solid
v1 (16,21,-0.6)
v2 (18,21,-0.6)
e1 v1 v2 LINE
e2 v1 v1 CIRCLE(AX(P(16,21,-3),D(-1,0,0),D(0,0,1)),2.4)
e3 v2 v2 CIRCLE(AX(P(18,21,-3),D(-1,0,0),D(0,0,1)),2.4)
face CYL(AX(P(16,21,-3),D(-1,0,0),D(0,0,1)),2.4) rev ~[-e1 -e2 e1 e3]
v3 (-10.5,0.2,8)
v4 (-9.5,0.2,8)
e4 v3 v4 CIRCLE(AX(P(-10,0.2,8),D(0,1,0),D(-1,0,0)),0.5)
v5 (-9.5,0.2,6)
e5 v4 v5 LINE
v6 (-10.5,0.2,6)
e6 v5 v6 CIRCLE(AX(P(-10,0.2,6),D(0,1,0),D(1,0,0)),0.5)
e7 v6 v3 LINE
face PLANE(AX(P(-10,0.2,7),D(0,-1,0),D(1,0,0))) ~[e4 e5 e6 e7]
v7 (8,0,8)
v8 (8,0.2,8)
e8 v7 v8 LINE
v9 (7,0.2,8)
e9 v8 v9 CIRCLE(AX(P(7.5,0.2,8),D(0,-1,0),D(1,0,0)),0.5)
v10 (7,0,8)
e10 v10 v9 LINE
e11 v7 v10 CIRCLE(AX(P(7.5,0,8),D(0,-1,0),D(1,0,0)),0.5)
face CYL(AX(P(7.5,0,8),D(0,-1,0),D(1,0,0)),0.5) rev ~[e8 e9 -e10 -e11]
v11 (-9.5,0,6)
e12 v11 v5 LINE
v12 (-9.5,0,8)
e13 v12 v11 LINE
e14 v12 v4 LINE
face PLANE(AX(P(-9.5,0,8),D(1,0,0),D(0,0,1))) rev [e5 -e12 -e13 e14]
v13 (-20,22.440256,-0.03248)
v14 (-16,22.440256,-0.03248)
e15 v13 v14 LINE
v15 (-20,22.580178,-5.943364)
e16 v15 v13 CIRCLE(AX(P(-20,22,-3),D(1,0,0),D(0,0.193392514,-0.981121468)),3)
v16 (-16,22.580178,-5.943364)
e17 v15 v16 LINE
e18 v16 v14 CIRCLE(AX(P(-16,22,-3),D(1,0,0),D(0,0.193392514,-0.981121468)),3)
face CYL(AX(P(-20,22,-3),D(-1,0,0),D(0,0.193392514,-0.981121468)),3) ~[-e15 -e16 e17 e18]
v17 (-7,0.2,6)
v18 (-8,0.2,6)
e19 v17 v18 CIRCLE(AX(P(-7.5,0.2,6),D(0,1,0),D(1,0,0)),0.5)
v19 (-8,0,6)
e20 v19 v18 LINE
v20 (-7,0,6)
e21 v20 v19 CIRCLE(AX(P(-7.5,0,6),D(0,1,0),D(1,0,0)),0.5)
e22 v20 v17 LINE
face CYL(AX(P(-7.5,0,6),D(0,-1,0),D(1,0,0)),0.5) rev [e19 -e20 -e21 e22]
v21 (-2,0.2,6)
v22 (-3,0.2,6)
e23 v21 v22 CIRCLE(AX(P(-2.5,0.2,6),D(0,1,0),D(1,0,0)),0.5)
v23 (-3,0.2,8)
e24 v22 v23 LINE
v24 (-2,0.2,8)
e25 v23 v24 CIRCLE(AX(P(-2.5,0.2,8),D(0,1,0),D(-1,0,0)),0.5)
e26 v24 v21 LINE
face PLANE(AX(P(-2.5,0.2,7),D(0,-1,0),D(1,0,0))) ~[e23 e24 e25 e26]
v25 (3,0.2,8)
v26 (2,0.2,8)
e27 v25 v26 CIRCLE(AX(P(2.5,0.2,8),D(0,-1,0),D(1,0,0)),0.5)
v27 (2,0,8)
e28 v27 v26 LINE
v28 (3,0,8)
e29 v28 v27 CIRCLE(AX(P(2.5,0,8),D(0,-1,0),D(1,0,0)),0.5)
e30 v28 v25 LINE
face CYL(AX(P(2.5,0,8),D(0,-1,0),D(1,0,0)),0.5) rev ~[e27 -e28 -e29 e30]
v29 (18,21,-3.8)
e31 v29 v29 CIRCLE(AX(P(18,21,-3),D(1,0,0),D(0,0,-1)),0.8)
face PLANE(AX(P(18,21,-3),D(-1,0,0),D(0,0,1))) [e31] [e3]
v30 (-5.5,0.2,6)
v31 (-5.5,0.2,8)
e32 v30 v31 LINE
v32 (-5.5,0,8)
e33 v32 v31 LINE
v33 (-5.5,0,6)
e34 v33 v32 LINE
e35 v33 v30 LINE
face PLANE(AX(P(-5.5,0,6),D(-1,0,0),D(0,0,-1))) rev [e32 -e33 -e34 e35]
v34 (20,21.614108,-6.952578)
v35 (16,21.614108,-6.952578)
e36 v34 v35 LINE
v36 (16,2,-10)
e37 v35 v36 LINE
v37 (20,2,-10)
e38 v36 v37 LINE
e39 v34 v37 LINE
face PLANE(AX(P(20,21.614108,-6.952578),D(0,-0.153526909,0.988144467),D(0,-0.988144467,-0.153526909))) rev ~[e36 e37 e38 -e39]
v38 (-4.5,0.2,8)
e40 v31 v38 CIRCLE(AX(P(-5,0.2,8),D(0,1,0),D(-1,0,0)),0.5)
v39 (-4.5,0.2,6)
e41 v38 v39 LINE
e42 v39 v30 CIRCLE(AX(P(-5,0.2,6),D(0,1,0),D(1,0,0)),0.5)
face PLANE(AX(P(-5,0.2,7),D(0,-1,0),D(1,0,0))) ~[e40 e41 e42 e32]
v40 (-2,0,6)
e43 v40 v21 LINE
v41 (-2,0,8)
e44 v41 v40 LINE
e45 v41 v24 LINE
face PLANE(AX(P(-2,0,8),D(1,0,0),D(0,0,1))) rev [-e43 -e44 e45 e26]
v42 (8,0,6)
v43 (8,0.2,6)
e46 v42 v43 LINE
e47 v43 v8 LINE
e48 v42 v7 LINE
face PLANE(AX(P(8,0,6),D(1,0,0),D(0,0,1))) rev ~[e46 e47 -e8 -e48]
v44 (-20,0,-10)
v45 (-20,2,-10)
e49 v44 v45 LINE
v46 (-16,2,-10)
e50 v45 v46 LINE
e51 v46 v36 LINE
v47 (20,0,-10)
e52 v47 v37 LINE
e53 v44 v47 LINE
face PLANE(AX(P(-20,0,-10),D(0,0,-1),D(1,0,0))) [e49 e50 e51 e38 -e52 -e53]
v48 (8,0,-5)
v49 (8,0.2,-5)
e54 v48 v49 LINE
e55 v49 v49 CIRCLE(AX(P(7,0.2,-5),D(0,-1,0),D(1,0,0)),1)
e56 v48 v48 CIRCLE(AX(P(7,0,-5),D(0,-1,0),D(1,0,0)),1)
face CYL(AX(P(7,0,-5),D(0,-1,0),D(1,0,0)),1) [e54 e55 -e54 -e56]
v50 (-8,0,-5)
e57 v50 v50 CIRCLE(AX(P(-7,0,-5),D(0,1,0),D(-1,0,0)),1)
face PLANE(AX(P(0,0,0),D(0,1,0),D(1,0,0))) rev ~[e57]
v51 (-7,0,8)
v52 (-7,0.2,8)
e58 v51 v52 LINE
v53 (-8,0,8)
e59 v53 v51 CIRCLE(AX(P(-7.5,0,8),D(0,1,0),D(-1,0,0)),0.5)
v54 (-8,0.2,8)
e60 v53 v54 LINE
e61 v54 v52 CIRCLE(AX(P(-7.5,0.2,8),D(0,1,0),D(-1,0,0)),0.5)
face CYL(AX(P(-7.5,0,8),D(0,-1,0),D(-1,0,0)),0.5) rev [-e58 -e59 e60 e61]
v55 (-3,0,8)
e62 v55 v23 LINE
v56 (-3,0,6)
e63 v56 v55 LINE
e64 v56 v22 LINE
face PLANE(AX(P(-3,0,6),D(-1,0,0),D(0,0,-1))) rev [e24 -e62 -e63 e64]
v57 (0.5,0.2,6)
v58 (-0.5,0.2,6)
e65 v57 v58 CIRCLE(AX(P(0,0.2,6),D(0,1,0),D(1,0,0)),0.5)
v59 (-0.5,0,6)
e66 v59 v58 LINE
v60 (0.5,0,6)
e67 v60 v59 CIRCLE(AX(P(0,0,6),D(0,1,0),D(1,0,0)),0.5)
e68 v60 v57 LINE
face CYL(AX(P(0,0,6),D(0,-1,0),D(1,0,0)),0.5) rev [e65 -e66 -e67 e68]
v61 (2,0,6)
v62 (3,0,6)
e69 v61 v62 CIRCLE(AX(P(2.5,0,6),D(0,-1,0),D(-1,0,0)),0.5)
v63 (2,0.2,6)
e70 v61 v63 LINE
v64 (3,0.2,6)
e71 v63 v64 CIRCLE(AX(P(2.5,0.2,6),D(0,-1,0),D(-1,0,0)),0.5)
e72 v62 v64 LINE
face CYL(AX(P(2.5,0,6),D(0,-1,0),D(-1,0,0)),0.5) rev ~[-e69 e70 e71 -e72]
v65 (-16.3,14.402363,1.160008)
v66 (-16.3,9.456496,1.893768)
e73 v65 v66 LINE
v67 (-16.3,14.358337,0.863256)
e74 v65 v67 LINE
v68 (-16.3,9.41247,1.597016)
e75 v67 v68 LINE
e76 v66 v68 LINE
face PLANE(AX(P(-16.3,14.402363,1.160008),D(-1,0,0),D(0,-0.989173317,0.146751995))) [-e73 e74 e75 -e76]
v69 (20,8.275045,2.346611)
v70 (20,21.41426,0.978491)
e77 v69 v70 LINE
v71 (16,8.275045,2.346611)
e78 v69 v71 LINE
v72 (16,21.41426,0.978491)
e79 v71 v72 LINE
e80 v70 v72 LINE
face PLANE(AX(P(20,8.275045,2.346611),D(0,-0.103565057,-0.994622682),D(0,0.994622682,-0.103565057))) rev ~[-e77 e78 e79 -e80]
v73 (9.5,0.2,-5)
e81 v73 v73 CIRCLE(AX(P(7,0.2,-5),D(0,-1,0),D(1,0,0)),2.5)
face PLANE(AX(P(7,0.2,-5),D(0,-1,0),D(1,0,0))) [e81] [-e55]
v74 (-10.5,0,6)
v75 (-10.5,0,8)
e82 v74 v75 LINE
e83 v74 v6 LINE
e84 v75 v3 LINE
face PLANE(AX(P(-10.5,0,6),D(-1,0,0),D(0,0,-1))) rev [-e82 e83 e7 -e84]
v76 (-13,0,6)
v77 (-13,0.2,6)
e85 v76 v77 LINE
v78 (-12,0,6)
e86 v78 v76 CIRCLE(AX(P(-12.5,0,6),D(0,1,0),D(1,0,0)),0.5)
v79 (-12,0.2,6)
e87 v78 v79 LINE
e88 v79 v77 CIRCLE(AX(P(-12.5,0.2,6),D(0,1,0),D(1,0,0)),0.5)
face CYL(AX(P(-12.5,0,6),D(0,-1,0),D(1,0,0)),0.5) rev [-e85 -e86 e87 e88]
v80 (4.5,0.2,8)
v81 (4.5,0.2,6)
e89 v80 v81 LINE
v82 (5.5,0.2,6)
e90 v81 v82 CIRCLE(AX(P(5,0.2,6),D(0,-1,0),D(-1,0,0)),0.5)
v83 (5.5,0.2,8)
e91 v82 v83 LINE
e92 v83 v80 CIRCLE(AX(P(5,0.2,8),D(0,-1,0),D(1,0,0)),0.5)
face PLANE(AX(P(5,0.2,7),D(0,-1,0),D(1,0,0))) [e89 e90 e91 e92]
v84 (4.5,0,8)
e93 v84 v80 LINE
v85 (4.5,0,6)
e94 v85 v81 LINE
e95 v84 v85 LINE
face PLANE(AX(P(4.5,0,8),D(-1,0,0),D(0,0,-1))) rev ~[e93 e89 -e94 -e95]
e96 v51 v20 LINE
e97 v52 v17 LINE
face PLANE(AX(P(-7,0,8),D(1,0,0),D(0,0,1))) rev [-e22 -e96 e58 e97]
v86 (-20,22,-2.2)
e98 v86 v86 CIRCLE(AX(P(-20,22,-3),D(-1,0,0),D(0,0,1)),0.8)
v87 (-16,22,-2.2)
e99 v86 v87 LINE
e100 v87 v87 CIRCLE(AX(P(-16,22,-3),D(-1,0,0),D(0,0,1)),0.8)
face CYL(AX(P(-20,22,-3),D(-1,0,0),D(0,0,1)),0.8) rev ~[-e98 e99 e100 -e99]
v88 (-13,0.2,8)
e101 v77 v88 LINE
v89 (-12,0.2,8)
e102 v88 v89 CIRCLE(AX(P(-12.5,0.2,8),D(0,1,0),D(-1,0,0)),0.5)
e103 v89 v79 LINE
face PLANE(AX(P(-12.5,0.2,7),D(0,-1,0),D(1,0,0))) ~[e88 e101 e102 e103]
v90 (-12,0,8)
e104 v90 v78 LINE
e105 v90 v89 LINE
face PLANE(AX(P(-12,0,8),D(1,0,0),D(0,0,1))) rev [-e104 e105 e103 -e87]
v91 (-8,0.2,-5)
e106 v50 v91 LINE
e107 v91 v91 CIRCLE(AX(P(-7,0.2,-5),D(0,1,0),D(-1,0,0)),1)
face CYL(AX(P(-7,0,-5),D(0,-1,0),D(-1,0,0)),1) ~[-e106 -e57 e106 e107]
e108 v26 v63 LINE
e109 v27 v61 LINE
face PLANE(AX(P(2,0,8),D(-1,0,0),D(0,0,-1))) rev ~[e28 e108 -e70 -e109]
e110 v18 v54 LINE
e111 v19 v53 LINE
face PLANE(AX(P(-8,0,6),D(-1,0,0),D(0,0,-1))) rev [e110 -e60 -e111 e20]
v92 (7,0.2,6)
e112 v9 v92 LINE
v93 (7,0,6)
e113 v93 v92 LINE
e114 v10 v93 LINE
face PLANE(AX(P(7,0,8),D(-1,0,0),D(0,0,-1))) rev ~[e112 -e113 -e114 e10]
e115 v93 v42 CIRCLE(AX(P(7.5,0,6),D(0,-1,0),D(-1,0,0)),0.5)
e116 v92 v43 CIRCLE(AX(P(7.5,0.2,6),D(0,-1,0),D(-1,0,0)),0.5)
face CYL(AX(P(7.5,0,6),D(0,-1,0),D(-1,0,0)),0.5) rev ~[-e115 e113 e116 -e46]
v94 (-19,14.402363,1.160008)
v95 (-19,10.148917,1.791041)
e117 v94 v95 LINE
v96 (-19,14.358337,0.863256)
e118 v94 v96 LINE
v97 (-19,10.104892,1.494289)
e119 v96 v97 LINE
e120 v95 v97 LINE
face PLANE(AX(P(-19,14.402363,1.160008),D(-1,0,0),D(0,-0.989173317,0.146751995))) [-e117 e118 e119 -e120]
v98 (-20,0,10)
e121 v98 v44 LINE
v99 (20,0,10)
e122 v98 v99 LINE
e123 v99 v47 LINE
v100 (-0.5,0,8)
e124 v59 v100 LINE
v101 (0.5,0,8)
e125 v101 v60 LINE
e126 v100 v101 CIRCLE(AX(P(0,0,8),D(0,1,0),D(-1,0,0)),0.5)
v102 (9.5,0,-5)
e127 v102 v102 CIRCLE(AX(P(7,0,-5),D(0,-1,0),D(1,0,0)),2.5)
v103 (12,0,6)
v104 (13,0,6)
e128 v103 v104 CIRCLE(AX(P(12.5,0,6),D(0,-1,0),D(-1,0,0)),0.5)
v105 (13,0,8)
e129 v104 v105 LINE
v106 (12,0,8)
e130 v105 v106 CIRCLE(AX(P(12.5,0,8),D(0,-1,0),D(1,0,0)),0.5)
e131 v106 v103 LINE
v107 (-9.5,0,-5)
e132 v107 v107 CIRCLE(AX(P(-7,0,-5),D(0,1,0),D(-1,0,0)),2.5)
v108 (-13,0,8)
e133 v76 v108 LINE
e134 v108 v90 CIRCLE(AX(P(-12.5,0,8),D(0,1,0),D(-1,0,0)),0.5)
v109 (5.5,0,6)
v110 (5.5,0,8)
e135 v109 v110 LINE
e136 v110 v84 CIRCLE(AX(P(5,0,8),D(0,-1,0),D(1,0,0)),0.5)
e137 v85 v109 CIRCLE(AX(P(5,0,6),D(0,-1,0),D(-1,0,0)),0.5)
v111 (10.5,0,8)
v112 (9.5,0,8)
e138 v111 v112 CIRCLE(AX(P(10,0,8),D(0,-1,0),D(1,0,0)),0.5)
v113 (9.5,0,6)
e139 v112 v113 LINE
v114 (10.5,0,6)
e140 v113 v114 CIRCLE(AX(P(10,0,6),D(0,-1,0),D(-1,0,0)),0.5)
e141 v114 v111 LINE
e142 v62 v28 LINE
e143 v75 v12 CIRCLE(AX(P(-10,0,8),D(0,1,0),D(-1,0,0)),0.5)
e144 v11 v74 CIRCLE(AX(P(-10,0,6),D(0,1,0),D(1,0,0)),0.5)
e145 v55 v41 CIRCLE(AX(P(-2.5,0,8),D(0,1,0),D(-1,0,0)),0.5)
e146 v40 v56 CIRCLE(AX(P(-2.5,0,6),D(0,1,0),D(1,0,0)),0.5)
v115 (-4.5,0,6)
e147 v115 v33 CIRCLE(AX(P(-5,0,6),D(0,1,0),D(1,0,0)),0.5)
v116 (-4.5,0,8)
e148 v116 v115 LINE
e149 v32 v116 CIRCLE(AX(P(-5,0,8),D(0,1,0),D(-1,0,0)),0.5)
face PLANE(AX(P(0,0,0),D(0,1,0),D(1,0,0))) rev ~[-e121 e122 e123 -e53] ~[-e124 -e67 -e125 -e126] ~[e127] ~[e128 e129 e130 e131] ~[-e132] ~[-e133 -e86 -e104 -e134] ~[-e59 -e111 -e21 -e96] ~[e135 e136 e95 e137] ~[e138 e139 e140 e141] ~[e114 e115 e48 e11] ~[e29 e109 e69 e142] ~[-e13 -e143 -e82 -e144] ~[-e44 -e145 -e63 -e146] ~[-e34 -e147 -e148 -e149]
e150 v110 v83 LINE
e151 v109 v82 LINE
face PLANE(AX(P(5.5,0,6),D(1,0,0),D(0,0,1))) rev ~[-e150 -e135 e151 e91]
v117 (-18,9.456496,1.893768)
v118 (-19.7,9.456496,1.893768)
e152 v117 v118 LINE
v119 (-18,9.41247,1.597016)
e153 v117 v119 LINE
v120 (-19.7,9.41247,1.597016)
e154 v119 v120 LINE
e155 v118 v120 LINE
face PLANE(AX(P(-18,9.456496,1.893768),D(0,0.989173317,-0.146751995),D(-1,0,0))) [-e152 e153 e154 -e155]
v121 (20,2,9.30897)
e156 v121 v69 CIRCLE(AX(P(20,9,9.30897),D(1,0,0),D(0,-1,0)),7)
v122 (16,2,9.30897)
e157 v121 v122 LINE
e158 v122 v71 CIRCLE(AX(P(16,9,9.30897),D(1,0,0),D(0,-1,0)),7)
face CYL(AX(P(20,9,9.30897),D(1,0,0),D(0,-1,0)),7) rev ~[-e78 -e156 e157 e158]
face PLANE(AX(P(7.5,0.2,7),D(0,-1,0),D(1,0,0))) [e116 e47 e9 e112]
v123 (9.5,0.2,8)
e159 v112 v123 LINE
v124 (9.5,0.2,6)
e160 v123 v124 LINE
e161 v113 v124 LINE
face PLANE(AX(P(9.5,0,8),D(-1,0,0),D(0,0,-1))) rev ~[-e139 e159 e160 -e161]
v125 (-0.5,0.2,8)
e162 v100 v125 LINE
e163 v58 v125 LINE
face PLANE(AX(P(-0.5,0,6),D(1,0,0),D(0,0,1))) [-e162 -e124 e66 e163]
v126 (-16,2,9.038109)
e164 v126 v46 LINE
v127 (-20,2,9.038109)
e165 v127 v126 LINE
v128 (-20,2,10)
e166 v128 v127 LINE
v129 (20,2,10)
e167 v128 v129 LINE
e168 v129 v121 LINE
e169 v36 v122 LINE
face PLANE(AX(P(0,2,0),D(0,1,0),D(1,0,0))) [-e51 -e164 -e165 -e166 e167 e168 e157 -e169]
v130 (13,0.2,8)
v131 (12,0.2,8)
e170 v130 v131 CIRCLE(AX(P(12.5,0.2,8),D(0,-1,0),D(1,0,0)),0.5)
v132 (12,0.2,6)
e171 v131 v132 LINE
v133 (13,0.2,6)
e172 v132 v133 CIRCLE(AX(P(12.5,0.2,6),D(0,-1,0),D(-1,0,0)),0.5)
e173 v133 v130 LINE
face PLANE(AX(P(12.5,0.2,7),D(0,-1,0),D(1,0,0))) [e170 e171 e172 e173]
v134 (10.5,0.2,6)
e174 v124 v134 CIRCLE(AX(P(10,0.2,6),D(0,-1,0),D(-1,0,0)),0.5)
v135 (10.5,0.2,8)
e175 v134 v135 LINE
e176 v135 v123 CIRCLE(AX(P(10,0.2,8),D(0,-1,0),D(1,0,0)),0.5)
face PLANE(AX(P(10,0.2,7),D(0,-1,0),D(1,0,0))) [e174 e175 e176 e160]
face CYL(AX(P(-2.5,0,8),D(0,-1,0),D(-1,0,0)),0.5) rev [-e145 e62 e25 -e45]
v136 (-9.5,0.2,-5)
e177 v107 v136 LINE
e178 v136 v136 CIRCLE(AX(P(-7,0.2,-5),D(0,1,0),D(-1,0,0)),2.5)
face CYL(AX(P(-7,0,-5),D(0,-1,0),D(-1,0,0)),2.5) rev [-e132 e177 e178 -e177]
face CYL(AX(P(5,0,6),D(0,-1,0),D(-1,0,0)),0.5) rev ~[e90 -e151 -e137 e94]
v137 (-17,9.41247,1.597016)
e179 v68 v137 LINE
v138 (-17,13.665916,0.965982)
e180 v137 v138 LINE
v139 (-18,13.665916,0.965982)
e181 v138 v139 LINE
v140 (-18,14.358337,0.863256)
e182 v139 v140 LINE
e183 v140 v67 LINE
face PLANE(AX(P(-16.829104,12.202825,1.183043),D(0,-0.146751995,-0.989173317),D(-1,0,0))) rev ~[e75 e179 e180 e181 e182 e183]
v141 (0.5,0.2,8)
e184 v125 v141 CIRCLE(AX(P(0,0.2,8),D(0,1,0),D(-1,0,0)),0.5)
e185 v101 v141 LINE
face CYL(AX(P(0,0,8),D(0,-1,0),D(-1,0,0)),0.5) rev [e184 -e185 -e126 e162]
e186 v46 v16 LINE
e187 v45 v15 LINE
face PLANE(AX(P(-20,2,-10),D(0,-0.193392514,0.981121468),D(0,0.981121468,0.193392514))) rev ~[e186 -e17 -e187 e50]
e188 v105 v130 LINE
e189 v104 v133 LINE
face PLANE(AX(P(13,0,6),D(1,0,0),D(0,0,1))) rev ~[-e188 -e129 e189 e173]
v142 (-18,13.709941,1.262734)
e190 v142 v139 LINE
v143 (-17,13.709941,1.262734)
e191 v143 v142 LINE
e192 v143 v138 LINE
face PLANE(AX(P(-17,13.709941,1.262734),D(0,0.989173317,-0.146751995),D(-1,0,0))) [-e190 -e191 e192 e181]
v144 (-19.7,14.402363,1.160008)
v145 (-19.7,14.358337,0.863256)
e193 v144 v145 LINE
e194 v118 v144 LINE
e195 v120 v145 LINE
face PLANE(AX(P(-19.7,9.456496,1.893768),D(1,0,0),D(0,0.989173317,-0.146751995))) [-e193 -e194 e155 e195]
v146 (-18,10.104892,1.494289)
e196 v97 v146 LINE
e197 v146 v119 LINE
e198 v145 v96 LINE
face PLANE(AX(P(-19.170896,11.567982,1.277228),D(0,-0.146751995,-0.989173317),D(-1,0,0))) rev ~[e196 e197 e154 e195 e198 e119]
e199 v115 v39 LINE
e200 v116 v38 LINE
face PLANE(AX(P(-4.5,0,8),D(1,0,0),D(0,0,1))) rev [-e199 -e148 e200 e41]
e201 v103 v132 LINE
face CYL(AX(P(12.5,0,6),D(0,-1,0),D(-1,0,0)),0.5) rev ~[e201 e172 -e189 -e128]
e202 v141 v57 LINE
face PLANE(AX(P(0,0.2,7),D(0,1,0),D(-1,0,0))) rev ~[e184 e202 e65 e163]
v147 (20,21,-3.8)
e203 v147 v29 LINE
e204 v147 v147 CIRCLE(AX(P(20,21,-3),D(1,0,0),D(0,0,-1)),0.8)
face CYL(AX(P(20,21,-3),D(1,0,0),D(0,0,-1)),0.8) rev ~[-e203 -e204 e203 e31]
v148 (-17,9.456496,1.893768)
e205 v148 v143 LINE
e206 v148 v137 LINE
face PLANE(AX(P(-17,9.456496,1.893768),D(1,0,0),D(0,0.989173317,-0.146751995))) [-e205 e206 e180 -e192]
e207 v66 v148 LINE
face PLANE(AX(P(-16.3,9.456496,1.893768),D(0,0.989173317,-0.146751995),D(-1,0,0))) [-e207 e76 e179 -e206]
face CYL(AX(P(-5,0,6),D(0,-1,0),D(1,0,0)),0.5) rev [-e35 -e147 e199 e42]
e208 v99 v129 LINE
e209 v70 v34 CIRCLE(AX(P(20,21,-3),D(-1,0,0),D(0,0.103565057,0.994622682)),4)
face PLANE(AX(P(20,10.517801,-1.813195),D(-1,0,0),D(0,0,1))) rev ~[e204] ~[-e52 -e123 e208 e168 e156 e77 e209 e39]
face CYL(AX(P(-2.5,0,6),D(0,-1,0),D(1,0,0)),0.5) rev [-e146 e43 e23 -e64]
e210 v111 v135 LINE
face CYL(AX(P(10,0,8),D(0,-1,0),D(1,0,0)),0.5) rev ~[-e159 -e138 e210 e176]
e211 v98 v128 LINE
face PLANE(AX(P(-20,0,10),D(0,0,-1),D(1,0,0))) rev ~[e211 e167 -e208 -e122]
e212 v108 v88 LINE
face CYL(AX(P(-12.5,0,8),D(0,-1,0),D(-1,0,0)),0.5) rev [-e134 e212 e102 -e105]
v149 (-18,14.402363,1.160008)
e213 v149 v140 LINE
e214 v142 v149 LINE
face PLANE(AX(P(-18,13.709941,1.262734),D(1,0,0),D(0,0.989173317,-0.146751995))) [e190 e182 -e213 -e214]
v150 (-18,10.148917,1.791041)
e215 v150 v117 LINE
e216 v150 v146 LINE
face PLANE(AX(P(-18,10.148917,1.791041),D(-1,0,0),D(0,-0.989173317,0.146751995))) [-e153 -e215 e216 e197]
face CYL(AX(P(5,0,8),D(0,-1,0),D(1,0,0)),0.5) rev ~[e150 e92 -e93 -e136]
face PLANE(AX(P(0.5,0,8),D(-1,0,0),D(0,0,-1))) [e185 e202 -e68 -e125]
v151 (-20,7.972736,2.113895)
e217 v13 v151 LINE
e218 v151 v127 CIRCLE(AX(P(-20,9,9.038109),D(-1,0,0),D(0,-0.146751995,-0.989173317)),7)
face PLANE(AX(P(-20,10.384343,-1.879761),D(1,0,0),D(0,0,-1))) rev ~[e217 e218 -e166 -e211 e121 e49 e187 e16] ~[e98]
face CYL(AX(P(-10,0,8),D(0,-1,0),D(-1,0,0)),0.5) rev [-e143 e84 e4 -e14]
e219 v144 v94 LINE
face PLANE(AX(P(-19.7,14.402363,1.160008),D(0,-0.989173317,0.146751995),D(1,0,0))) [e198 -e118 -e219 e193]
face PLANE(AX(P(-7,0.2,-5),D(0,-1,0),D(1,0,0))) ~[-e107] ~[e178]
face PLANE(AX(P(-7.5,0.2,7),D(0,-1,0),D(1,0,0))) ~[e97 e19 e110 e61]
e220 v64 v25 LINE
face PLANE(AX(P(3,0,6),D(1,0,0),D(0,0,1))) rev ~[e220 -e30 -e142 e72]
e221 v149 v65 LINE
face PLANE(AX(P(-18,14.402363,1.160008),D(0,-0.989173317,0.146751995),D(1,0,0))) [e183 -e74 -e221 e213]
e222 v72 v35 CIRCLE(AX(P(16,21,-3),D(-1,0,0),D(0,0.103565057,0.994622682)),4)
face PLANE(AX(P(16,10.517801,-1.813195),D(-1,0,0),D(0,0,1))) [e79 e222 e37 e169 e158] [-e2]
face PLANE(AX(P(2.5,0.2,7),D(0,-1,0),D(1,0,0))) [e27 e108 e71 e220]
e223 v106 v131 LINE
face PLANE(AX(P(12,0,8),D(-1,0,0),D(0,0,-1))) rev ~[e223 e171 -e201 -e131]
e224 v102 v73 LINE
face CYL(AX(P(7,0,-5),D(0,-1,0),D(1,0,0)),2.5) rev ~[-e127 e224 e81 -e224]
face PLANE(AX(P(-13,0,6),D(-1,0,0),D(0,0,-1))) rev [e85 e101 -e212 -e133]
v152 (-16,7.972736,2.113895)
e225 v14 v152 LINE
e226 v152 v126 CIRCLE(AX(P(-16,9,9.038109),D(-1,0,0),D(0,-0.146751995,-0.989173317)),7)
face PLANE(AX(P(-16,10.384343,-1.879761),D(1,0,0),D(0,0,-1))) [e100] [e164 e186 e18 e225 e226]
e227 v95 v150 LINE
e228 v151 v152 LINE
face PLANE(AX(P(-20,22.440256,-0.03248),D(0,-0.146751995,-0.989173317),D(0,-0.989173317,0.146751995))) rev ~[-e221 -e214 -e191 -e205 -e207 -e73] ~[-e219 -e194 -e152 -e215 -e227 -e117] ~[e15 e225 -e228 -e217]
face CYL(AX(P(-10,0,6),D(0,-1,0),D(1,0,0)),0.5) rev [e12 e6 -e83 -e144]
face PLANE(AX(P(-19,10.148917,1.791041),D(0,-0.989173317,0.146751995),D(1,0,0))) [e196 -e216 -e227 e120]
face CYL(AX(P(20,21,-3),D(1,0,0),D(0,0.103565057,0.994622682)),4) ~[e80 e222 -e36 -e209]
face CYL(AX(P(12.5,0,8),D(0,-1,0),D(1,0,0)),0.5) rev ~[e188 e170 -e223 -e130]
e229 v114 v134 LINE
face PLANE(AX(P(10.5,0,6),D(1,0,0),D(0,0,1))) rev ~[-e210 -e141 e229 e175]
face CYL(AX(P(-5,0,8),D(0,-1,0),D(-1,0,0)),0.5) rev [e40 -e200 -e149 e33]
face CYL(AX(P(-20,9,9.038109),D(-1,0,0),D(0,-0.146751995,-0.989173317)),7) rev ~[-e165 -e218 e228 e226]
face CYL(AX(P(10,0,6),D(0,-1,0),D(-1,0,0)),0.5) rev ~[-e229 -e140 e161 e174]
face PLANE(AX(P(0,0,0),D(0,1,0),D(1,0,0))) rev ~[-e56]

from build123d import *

# Parameters (mm, degrees)
CROQUIS1_W              = 40
CROQUIS1_H              = 20
SALIENTE_EXTRUIR1_DEPTH = 2
CROQUIS3_R              = 0.8
SALIENTE_EXTRUIR2_DEPTH = 4
CROQUIS4_R              = 2.5
CROQUIS4_R_2            = 1
CORTAR_EXTRUIR1_DEPTH   = 0.2
CROQUIS6_R              = 0.8
SALIENTE_EXTRUIR3_DEPTH = 4
CROQUIS10_R             = 2.4
CORTAR_EXTRUIR4_DEPTH   = 2
CORTAR_EXTRUIR5_DEPTH   = 0.3


with BuildPart() as part:
    # Croquis1 → Saliente-Extruir1 (new body)
    with BuildSketch(Plane(origin=(0, 0, 0), x_dir=(1, 0, 0), z_dir=(0, 1, 0))):
        Rectangle(CROQUIS1_W, CROQUIS1_H)
    extrude(amount=SALIENTE_EXTRUIR1_DEPTH)

    # Croquis3 → Saliente-Extruir2 (add)
    with BuildSketch(Plane(origin=(20, 0, 0), x_dir=(0, 0, -1), z_dir=(1, 0, 0))):
        with BuildLine():
            Line((-2.346611166, 8.275044598), (-0.978490727, 21.414260229))
            ThreePointArc((-0.978490727, 21.414260229), (2.899239812, 24.998730722), (6.952577869, 21.614107636))
            Line((6.952577869, 21.614107636), (10, 2))
            Line((10, 2), (-9.308969938, 2))
            ThreePointArc((-9.308969938, 2), (-4.622536743, 3.8002554), (-2.346611166, 8.275044598))
        make_face()
        with Locations((3, 21)):
            Circle(CROQUIS3_R, mode=Mode.SUBTRACT)
    extrude(amount=-SALIENTE_EXTRUIR2_DEPTH)

    # Croquis4 → Cortar-Extruir1 (cut)
    with BuildSketch(Plane.XZ):
        with Locations((7, -5)):
            Circle(CROQUIS4_R)
        with Locations((7, -5)):
            Circle(CROQUIS4_R_2, mode=Mode.SUBTRACT)
        with BuildLine():
            Line((0.5, 8), (0.5, 6))
            ThreePointArc((0.5, 6), (0, 5.5), (-0.5, 6))
            Line((-0.5, 6), (-0.5, 8))
            ThreePointArc((-0.5, 8), (0, 8.5), (0.5, 8))
        make_face()
        with BuildLine():
            Line((2, 8), (2, 6))
            ThreePointArc((2, 6), (2.5, 5.5), (3, 6))
            Line((3, 6), (3, 8))
            ThreePointArc((3, 8), (2.5, 8.5), (2, 8))
        make_face()
        with BuildLine():
            Line((4.5, 8), (4.5, 6))
            ThreePointArc((4.5, 6), (5, 5.5), (5.5, 6))
            Line((5.5, 6), (5.5, 8))
            ThreePointArc((5.5, 8), (5, 8.5), (4.5, 8))
        make_face()
        with BuildLine():
            Line((7, 8), (7, 6))
            ThreePointArc((7, 6), (7.5, 5.5), (8, 6))
            Line((8, 6), (8, 8))
            ThreePointArc((8, 8), (7.5, 8.5), (7, 8))
        make_face()
        with BuildLine():
            Line((9.5, 8), (9.5, 6))
            ThreePointArc((9.5, 6), (10, 5.5), (10.5, 6))
            Line((10.5, 6), (10.5, 8))
            ThreePointArc((10.5, 8), (10, 8.5), (9.5, 8))
        make_face()
        with BuildLine():
            Line((12, 8), (12, 6))
            ThreePointArc((12, 6), (12.5, 5.5), (13, 6))
            Line((13, 6), (13, 8))
            ThreePointArc((13, 8), (12.5, 8.5), (12, 8))
        make_face()
    cortar_extruir1 = extrude(amount=-CORTAR_EXTRUIR1_DEPTH, mode=Mode.SUBTRACT)

    # Simetría2: Cortar-Extruir1 across plane
    add(cortar_extruir1.mirror(Plane(origin=(0, 0, 0), x_dir=(0, 0, 1), z_dir=(1, 0, 0))), mode=Mode.SUBTRACT)

    # Croquis6 → Saliente-Extruir3 (add)
    with BuildSketch(Plane.ZY.offset(20)):
        with BuildLine():
            Line((-10, 2), (-5.943364405, 22.580177542))
            ThreePointArc((-5.943364405, 22.580177542), (-2.929004345, 24.999159819), (-0.032480048, 22.440255986))
            Line((-0.032480048, 22.440255986), (2.113895498, 7.972736033))
            ThreePointArc((2.113895498, 7.972736033), (4.465956479, 3.699488338), (9.03810872, 2))
            Line((9.03810872, 2), (-10, 2))
        make_face()
        with Locations((-3, 22)):
            Circle(CROQUIS6_R, mode=Mode.SUBTRACT)
    extrude(amount=-SALIENTE_EXTRUIR3_DEPTH)

    # Croquis10 → Cortar-Extruir4 (cut)
    with BuildSketch(Plane.ZY.offset(-16)):
        with Locations((-3, 21)):
            Circle(CROQUIS10_R)
    extrude(amount=-CORTAR_EXTRUIR4_DEPTH, mode=Mode.SUBTRACT)

    # Croquis11 → Cortar-Extruir5 (cut)
    with BuildSketch(Plane(origin=(0, 0.47856177, 3.225717872), x_dir=(1, 0, 0), z_dir=(0, 0.146751995, 0.989173317))):
        Polygon((-16.3, 9.076199369), (-17, 9.076199369), (-17, 13.376199369), (-18, 13.376199369), (-18, 14.076199369), (-16.3, 14.076199369), align=None)
        Polygon((-19.7, 9.076199369), (-19.7, 14.076199369), (-19, 14.076199369), (-19, 9.776199369), (-18, 9.776199369), (-18, 9.076199369), align=None)
    extrude(amount=-CORTAR_EXTRUIR5_DEPTH, mode=Mode.SUBTRACT)


solid = part.part
